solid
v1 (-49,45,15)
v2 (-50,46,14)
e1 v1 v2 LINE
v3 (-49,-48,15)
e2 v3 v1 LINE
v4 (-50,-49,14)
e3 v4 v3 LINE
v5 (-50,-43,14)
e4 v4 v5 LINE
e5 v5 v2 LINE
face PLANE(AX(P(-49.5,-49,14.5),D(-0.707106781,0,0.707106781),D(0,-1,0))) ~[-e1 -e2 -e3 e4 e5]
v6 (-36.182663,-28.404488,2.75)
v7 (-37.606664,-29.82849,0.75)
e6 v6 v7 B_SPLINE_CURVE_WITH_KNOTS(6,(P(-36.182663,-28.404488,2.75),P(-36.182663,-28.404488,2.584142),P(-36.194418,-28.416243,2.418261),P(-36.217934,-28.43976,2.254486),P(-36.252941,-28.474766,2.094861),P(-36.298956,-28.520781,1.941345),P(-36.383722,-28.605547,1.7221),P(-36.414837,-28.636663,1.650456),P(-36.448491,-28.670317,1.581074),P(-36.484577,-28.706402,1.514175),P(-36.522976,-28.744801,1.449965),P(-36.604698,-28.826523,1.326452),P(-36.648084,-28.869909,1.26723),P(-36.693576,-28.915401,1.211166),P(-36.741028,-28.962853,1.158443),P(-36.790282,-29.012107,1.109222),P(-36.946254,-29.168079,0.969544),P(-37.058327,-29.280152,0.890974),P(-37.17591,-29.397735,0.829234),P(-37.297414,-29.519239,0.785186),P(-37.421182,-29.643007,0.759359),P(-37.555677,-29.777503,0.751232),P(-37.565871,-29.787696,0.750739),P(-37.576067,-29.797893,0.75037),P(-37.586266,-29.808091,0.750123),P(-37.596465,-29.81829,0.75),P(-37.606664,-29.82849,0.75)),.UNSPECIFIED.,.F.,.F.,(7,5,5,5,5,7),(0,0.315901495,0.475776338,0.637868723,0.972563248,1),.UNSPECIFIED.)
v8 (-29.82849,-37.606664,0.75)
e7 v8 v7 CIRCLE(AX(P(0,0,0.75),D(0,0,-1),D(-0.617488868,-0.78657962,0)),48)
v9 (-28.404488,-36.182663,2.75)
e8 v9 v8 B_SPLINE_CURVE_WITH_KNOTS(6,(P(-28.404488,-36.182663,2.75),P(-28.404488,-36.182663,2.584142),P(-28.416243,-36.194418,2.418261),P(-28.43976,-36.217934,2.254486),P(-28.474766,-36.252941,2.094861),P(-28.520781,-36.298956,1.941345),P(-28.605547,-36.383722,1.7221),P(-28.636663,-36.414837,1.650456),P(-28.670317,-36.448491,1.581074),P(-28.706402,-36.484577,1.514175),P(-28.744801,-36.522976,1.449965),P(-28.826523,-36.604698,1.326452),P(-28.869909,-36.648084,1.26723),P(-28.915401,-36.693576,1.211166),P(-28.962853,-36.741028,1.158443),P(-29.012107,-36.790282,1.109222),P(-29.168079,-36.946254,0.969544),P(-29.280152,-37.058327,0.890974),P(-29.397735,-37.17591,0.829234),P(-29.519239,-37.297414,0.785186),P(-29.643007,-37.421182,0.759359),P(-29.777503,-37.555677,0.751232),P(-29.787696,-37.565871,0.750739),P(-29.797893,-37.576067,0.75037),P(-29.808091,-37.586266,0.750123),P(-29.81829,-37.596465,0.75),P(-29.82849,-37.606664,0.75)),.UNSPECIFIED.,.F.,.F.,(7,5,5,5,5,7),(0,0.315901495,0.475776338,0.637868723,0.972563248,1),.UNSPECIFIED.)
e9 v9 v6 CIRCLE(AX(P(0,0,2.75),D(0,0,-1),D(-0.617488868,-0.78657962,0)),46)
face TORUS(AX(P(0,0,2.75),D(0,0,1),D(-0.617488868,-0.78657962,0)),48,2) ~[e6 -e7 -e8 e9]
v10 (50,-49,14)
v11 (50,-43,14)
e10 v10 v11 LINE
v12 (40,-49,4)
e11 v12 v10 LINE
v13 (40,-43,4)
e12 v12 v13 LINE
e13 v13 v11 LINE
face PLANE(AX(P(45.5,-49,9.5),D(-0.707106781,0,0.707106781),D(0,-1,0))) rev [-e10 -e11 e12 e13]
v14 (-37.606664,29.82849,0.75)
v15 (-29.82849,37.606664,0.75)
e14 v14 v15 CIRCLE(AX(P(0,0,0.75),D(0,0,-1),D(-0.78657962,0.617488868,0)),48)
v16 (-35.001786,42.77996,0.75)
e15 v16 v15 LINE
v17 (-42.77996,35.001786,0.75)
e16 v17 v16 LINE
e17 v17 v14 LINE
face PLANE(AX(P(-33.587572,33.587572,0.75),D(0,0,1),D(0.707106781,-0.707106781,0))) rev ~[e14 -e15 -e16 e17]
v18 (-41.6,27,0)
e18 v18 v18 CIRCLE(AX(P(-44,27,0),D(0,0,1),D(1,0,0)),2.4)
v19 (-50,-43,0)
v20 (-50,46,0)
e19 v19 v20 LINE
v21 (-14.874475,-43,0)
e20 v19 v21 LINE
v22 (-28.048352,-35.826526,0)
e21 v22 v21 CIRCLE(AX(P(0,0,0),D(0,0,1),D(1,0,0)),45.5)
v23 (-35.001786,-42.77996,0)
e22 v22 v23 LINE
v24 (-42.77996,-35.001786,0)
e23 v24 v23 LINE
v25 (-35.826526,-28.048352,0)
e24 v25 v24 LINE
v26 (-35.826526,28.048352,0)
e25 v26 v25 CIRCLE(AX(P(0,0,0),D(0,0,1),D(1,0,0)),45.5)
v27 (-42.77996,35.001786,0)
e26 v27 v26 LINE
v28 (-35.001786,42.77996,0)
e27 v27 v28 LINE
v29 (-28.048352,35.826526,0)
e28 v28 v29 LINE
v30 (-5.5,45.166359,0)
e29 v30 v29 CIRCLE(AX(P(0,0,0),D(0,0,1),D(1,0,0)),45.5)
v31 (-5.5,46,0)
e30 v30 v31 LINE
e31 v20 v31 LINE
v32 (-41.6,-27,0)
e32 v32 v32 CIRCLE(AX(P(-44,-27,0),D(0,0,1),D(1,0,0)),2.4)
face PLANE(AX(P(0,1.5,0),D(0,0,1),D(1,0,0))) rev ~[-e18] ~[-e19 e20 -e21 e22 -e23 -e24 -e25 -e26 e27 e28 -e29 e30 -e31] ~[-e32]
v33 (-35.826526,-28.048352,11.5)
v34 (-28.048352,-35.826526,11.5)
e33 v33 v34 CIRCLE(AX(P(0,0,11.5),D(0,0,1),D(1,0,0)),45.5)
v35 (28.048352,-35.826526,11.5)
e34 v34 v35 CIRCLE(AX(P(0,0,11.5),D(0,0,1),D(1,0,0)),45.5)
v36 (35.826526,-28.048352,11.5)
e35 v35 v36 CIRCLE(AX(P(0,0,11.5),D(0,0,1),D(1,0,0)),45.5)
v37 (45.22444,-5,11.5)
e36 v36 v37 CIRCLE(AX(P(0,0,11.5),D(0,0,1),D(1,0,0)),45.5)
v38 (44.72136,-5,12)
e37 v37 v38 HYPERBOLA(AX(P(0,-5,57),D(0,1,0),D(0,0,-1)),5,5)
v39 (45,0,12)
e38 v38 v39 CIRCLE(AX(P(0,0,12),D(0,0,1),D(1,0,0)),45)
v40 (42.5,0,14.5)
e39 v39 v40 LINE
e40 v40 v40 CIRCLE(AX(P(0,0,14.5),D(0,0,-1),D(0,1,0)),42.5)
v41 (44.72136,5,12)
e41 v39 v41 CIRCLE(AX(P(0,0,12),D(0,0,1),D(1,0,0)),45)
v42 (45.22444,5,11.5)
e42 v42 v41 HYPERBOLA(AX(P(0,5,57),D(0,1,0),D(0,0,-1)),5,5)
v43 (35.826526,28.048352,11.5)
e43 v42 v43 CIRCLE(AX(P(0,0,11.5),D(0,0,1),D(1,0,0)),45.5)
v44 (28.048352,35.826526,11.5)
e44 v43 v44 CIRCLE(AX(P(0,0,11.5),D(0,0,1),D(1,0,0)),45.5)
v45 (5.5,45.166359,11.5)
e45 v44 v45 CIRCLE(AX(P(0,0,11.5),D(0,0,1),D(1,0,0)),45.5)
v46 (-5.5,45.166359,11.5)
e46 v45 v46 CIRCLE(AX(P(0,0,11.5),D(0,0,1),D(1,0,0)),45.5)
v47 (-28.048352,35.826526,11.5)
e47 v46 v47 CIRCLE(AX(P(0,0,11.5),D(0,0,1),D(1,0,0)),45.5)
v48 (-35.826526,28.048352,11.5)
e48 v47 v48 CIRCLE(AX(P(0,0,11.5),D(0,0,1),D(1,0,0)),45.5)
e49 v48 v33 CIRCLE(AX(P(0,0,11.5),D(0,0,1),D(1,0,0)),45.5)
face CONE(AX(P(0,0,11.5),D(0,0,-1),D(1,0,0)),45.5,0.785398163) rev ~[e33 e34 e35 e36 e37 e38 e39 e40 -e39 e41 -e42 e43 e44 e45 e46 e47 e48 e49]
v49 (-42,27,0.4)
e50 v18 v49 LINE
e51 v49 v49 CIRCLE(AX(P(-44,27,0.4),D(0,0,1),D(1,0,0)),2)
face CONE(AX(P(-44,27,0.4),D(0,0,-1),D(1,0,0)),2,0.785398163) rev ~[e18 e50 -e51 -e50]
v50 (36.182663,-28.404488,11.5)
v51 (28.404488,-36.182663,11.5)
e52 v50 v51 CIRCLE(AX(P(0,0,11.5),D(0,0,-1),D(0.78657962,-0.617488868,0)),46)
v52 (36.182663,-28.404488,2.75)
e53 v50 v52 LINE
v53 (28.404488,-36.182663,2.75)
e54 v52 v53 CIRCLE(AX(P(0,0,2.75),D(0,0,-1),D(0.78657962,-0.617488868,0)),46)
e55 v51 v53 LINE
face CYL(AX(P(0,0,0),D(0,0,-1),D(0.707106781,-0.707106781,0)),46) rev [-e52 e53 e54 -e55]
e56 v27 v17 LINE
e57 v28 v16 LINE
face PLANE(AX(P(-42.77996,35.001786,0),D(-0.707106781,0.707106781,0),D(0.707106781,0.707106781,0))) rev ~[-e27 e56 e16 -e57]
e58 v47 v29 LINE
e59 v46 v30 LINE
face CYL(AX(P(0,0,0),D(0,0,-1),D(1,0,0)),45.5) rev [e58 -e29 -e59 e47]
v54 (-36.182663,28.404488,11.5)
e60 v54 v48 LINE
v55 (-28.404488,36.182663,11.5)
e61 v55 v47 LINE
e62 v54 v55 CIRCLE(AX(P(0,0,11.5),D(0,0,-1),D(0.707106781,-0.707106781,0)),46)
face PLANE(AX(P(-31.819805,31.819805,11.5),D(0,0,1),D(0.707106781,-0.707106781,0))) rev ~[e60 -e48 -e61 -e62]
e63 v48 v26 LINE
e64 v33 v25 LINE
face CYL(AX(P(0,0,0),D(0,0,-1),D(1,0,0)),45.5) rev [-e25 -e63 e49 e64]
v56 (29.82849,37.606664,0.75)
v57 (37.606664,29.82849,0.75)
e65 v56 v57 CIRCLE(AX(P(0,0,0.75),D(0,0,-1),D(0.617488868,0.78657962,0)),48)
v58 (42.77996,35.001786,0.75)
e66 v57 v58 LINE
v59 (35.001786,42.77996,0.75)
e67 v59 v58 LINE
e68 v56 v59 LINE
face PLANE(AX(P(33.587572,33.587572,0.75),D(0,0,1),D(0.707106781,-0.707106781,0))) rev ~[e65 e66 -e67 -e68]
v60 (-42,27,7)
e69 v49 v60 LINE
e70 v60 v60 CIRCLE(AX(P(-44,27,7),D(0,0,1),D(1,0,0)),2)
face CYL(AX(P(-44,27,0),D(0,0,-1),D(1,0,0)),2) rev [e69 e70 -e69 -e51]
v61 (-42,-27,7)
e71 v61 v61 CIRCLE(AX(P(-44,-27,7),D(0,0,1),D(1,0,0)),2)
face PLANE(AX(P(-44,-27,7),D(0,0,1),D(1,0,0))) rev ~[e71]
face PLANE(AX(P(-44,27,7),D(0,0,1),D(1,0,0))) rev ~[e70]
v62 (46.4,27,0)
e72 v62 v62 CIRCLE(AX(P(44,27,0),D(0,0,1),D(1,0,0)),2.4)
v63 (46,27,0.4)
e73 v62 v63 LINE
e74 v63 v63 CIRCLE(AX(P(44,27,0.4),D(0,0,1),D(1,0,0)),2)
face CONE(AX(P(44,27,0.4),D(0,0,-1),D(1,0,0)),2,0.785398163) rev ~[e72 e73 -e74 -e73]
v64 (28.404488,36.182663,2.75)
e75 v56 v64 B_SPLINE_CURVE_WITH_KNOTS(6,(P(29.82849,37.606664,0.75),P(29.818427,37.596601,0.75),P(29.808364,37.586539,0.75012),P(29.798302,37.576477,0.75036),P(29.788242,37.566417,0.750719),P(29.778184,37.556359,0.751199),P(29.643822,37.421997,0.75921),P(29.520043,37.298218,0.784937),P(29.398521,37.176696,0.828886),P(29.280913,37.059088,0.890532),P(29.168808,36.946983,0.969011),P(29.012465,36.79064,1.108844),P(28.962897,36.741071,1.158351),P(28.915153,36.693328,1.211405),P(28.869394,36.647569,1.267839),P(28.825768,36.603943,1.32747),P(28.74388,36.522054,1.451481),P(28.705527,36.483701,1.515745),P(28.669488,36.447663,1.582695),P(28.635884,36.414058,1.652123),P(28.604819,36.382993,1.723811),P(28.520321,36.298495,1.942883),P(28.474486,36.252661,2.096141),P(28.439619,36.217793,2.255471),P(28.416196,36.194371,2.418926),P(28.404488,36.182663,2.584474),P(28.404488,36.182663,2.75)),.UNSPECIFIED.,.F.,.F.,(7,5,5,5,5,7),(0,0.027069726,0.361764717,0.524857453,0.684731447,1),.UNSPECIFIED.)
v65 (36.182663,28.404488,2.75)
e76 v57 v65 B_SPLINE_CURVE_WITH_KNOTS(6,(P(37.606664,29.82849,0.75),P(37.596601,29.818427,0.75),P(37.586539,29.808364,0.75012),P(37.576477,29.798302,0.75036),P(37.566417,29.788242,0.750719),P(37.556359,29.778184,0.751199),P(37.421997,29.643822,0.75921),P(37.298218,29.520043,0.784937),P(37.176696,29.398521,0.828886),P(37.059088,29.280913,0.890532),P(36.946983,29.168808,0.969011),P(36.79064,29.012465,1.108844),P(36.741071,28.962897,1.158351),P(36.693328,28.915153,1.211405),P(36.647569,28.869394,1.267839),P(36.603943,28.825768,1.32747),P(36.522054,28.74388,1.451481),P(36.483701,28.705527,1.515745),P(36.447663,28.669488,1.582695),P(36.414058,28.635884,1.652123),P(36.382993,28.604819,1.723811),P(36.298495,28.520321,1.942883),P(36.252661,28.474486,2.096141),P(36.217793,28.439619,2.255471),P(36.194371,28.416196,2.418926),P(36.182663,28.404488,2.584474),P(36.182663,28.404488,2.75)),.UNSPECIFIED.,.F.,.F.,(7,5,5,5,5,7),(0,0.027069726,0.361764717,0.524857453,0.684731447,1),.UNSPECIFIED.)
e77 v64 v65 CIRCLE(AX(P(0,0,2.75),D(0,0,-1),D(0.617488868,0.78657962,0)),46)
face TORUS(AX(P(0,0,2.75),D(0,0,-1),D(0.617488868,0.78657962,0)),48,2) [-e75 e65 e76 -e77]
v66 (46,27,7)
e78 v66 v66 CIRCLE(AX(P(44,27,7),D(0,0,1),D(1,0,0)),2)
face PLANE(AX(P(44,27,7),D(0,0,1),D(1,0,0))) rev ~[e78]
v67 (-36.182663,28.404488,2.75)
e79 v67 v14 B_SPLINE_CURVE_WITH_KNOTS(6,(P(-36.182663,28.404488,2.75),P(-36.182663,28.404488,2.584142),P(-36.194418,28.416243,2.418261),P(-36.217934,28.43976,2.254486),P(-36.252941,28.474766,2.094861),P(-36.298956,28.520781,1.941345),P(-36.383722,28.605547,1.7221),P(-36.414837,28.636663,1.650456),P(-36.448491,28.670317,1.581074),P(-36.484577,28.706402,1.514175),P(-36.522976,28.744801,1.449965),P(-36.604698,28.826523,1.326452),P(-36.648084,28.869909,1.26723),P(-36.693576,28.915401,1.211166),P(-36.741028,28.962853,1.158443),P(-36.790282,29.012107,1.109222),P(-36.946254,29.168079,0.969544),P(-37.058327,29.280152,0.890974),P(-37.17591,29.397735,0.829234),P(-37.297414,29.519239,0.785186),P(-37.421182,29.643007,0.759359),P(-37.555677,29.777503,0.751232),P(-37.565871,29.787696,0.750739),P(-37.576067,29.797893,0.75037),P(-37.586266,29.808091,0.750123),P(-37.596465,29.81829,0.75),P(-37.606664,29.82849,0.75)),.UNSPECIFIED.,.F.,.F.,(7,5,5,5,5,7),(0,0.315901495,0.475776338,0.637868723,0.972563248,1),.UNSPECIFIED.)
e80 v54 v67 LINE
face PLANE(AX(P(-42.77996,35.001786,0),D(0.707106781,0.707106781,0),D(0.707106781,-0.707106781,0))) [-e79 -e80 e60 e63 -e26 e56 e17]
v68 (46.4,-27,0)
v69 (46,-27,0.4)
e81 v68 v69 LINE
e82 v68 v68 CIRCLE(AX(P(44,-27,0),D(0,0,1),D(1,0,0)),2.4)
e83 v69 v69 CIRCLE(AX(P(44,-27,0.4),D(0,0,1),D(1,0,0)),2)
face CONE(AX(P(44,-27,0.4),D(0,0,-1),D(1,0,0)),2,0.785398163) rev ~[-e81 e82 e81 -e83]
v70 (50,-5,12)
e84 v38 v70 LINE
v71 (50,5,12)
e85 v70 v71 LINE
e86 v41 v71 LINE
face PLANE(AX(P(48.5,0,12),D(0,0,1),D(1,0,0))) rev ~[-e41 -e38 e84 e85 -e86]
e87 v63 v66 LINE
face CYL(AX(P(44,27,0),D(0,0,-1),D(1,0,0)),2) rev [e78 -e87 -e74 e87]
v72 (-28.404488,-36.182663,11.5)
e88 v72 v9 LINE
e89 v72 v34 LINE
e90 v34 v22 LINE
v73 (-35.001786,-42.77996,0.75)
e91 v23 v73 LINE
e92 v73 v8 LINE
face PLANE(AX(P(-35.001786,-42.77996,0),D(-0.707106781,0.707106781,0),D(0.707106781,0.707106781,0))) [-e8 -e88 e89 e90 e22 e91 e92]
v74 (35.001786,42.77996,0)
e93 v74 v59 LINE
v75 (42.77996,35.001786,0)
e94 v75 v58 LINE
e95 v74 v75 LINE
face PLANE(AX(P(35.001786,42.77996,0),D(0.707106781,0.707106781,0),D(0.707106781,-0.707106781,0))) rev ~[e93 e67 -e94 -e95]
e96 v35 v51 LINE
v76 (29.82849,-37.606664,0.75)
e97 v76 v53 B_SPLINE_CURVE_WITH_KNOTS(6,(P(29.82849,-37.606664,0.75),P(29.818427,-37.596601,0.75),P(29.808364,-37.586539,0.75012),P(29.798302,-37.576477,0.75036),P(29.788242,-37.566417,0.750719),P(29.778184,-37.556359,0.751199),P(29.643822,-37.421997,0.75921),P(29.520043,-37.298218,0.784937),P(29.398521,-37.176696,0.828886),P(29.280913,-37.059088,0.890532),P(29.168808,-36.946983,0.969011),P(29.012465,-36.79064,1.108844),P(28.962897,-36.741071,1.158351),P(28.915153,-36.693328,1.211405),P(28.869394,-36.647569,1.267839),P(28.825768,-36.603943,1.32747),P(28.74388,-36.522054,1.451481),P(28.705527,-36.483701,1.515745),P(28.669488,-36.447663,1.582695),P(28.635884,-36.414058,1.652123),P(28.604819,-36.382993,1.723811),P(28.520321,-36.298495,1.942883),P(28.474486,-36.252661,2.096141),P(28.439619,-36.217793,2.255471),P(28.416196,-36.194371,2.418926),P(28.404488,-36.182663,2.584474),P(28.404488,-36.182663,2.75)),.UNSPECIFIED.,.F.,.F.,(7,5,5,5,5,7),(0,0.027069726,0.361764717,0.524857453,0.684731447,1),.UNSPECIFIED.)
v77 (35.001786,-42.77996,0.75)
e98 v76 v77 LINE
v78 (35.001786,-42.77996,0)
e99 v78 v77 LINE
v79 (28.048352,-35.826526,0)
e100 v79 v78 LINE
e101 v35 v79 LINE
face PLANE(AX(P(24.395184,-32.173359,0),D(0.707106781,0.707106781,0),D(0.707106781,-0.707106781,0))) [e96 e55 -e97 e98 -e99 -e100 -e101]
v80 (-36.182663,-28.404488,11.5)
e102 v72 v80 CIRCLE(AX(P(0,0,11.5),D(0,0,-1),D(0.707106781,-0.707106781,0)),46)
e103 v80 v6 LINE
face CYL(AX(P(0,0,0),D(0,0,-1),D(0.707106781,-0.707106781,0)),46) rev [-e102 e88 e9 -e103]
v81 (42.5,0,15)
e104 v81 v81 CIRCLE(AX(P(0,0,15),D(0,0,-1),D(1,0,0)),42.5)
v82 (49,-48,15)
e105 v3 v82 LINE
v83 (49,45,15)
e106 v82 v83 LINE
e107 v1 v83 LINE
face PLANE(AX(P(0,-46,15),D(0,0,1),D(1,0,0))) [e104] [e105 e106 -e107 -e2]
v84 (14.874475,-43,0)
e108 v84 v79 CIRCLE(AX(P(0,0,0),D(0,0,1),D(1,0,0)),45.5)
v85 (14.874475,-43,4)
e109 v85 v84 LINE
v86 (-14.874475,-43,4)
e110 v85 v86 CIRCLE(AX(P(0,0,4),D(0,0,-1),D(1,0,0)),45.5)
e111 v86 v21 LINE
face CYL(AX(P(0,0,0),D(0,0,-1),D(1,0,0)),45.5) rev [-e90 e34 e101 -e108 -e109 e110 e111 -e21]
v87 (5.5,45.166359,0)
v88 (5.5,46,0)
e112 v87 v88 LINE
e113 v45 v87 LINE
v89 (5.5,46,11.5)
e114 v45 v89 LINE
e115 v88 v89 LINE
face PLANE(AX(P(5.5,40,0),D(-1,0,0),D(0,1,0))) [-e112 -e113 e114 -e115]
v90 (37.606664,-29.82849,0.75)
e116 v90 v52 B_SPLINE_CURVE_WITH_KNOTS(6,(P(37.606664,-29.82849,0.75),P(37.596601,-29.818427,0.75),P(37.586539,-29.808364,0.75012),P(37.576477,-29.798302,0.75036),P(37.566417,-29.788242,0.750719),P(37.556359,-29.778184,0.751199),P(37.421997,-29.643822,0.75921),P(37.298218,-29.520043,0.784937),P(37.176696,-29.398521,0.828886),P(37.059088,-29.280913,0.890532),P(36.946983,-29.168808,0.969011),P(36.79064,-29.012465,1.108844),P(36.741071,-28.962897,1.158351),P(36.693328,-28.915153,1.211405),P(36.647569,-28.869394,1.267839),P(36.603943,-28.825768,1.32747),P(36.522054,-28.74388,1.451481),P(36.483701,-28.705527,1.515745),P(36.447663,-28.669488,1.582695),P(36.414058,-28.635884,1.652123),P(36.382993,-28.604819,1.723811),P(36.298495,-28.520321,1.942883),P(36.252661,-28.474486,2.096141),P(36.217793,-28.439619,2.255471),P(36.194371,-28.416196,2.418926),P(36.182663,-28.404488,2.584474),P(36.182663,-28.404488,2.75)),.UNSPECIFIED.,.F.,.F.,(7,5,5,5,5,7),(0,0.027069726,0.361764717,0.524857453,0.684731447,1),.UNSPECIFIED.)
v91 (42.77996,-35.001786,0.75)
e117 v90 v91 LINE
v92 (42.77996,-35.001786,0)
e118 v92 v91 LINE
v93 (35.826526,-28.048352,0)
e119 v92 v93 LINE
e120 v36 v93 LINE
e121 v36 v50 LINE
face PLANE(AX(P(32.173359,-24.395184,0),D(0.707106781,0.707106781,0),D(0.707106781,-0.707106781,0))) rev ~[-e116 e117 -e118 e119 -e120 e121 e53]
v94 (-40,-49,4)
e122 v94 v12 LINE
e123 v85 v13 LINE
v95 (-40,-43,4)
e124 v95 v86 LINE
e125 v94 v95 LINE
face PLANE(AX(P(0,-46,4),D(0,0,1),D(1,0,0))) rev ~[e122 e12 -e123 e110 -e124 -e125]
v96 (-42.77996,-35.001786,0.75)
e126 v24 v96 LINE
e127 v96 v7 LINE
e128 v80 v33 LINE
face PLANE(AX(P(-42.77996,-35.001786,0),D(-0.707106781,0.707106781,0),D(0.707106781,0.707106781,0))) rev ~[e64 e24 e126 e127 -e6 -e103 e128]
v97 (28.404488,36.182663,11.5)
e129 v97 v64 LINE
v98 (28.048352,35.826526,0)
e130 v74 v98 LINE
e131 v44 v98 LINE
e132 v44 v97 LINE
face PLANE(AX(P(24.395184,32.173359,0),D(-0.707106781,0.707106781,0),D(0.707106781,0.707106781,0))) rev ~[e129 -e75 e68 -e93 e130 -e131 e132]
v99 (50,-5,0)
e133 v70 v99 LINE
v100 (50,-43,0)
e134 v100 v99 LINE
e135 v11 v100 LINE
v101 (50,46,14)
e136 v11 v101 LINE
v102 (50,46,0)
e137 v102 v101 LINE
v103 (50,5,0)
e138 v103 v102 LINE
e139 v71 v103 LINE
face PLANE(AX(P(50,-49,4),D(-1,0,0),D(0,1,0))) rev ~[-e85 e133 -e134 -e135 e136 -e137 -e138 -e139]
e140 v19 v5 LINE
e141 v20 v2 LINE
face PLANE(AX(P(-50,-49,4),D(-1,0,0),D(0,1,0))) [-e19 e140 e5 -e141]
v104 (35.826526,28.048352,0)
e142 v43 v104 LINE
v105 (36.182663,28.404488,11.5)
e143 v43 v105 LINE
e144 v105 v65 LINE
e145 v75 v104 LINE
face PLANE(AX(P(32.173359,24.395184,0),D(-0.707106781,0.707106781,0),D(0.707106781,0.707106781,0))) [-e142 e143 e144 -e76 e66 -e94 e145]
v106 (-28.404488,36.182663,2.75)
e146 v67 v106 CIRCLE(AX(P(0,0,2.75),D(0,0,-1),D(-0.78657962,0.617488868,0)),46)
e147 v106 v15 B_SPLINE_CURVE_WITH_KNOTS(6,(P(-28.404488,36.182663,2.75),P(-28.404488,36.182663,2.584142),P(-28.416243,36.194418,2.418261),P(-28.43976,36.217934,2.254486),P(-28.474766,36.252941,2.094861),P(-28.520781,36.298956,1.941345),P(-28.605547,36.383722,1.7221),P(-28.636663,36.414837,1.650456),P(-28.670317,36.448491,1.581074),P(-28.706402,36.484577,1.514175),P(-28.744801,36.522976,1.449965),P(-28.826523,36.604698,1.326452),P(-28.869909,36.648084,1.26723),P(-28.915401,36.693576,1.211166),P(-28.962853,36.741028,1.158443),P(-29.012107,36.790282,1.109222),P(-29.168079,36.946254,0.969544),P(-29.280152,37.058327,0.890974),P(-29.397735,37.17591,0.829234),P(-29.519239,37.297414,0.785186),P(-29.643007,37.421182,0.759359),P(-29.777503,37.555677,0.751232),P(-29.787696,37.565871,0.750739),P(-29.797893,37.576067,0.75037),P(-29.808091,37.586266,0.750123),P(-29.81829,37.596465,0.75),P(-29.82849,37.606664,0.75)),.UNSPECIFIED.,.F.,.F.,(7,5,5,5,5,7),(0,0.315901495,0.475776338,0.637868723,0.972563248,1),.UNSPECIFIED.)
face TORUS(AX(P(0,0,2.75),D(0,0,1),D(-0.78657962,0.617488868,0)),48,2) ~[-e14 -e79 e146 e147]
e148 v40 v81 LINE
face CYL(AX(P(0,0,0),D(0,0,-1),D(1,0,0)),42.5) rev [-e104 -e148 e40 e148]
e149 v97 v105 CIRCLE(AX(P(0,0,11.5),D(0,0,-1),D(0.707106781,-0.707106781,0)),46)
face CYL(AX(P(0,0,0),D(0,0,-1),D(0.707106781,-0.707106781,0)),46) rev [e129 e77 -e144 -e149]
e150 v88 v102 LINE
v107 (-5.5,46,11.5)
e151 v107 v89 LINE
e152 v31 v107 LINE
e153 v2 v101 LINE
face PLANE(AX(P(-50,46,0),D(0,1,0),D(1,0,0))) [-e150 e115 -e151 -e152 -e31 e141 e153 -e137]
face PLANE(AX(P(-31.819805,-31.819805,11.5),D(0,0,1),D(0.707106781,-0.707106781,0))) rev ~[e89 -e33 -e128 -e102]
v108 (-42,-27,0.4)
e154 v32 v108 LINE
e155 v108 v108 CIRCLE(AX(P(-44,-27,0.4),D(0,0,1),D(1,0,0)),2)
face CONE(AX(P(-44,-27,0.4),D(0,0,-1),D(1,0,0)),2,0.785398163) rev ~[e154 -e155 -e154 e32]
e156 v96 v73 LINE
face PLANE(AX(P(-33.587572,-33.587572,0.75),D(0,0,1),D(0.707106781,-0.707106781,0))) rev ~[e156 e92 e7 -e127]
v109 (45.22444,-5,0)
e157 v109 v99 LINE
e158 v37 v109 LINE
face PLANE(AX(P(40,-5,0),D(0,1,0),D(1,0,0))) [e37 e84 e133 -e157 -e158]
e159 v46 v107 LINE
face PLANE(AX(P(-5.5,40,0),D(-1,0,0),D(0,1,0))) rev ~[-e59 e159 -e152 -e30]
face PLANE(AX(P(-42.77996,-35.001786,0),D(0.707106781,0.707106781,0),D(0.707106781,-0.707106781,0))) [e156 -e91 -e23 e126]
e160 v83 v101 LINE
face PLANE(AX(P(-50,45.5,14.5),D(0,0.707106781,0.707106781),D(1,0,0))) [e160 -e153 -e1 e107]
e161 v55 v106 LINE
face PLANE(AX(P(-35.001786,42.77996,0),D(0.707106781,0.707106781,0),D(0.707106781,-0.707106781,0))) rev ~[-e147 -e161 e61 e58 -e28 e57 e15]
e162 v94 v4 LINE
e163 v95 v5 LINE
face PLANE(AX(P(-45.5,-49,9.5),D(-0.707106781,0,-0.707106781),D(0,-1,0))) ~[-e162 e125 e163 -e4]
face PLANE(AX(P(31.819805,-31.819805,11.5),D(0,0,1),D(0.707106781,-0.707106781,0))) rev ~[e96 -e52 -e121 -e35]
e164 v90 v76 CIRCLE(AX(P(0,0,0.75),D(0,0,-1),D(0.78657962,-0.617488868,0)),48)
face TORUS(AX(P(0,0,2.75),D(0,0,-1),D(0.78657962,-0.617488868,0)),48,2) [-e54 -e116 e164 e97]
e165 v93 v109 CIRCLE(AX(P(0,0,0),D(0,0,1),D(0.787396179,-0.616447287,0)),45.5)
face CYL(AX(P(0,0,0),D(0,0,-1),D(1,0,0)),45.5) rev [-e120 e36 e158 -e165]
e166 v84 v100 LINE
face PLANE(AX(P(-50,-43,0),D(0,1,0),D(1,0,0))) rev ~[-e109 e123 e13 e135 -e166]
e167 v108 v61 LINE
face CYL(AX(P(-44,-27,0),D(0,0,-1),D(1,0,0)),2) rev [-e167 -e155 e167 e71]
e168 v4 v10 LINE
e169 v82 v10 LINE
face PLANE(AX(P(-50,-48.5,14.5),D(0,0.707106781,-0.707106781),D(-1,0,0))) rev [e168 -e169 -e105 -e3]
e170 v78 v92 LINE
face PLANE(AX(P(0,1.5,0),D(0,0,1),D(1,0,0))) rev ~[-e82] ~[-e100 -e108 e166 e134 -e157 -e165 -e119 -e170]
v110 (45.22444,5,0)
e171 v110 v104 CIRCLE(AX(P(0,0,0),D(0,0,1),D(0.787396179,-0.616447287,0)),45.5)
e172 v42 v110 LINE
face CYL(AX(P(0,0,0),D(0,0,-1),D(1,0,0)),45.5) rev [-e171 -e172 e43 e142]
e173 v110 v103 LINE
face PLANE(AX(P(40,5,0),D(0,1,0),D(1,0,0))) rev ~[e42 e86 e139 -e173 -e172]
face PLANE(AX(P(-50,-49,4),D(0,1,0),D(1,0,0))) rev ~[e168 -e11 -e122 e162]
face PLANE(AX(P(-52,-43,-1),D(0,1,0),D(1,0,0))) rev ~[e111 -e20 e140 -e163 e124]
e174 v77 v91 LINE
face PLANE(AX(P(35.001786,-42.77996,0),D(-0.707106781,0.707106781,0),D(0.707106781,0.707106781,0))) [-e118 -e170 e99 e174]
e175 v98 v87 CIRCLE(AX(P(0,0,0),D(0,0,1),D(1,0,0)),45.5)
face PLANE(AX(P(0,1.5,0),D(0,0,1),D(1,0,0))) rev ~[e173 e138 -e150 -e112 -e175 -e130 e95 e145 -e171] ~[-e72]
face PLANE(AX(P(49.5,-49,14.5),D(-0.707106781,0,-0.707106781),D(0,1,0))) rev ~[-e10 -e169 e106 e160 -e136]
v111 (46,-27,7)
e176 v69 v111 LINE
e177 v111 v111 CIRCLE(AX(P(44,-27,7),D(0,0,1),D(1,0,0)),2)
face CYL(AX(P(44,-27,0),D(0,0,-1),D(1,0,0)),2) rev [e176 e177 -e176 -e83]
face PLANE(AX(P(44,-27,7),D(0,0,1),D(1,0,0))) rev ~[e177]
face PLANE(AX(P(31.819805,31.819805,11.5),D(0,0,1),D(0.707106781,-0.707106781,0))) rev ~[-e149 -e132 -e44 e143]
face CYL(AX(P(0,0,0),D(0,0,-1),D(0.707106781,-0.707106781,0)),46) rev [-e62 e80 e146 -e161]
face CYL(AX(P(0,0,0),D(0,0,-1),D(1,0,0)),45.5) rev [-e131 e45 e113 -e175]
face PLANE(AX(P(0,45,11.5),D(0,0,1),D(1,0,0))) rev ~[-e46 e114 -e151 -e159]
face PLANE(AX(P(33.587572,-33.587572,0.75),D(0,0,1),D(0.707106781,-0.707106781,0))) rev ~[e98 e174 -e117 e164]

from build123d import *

# Parameters (mm, degrees)
CYLINDER011_R                = 2
CYLINDER011_DEPTH            = 7
CYLINDER010_R                = 2
CYLINDER010_DEPTH            = 7
CYLINDER009_R                = 2
CYLINDER009_DEPTH            = 7
CYLINDER012_R                = 2
CYLINDER012_DEPTH            = 7
BOX021_W                     = 12
BOX021_H                     = 6
BOX021_DEPTH                 = 16
CHAMFER005_SIZE              = 11
BOX020_W                     = 12
BOX020_H                     = 6
BOX020_DEPTH                 = 16
CHAMFER004_SIZE              = 11
BOX018_W                     = 17
BOX018_H                     = 10
BOX018_DEPTH                 = 12
BOX017_W                     = 11
BOX017_H                     = 10
BOX017_DEPTH                 = 11.5
BOX004_W                     = 10
BOX004_H                     = 11
BOX004_DEPTH                 = 11.5
BOX005_W                     = 10
BOX005_H                     = 11
BOX005_DEPTH                 = 11.5
BOX006_W                     = 11
BOX006_H                     = 10
BOX006_DEPTH                 = 11.5
BOX007_W                     = 11
BOX007_H                     = 10
BOX007_DEPTH                 = 11.5
CYLINDER004_R                = 46
CYLINDER004_DEPTH            = 15
COMMON_PLACEMENT_ANGLE       = 45
CYLINDER_R                   = 45.5
CYLINDER_DEPTH               = 15
CHAMFER_SIZE                 = 3.5
CYLINDER002_R                = 42.5
CYLINDER002_DEPTH            = 21
BOX_W                        = 11
BOX_H                        = 15
BOX_DEPTH                    = 0.75
BOX001_W                     = 11
BOX001_H                     = 15
BOX001_DEPTH                 = 0.75
BOX002_W                     = 15
BOX002_H                     = 11
BOX002_DEPTH                 = 0.75
BOX003_W                     = 15
BOX003_H                     = 11
BOX003_DEPTH                 = 0.75
FUSION002003_PLACEMENT_ANGLE = 45
FILLET_R                     = 2
BOX016_W                     = 100
BOX016_H                     = 6
BOX016_DEPTH                 = 11
BOX015_W                     = 100
BOX015_H                     = 89
BOX015_DEPTH                 = 15
CHAMFER006_SIZE              = 1
CHAMFER019_SIZE              = 0.4


with BuildPart() as cylinder011:
    # Cylinder011 → Cylinder011 (new body)
    with BuildSketch(Plane(origin=(-44, 27, 0), x_dir=(1, 0, 0), z_dir=(0, 0, 1))):
        Circle(CYLINDER011_R)
    extrude(amount=CYLINDER011_DEPTH)


with BuildPart() as cylinder010:
    # Cylinder010 → Cylinder010 (new body)
    with BuildSketch(Plane(origin=(-44, -27, 0), x_dir=(1, 0, 0), z_dir=(0, 0, 1))):
        Circle(CYLINDER010_R)
    extrude(amount=CYLINDER010_DEPTH)


with BuildPart() as cylinder009:
    # Cylinder009 → Cylinder009 (new body)
    with BuildSketch(Plane(origin=(44, -27, 0), x_dir=(1, 0, 0), z_dir=(0, 0, 1))):
        Circle(CYLINDER009_R)
    extrude(amount=CYLINDER009_DEPTH)


with BuildPart() as fusion002003010:
    # Cylinder012 → Cylinder012 (new body)
    with BuildSketch(Plane(origin=(44, 27, 0), x_dir=(1, 0, 0), z_dir=(0, 0, 1))):
        Circle(CYLINDER012_R)
    extrude(amount=CYLINDER012_DEPTH)

    # Fusion002003010: union Cylinder011, Cylinder010, Cylinder009
    add(cylinder011.part)
    add(cylinder010.part)
    add(cylinder009.part)


with BuildPart() as chamfer005:
    # Box021 → Box021 (new body)
    with BuildSketch(Plane(origin=(39, -49, -1), x_dir=(1, 0, 0), z_dir=(0, 0, 1))):
        with Locations((6, 3)):
            Rectangle(BOX021_W, BOX021_H)
    extrude(amount=BOX021_DEPTH)

    # Chamfer005
    chamfer005_edges = [chamfer005.edges().sort_by_distance(p)[0] for p in [
        (39, -46, 15),
    ]]
    chamfer(chamfer005_edges, length=CHAMFER005_SIZE)


with BuildPart() as chamfer005_1:
    # Chamfer005 placement: moved
    add(chamfer005.part.moved(Location((1, 0, 0))))


with BuildPart() as fusion002003006:
    # Box020 → Box020 (new body)
    with BuildSketch(Plane(origin=(-51, -49, -1), x_dir=(1, 0, 0), z_dir=(0, 0, 1))):
        with Locations((6, 3)):
            Rectangle(BOX020_W, BOX020_H)
    extrude(amount=BOX020_DEPTH)

    # Chamfer004
    chamfer004_edges = [fusion002003006.edges().sort_by_distance(p)[0] for p in [
        (-39, -46, 15),
    ]]
    chamfer(chamfer004_edges, length=CHAMFER004_SIZE)


with BuildPart() as fusion002003006_1:
    # Chamfer004 placement: moved
    add(fusion002003006.part.moved(Location((-1, 0, 0))))

    # Fusion002003006: union Chamfer005
    add(chamfer005_1.part)


with BuildPart() as cube018:
    # Box018 → Box018 (new body)
    with BuildSketch(Plane(origin=(40, -5, 0), x_dir=(1, 0, 0), z_dir=(0, 0, 1))):
        with Locations((8.5, 5)):
            Rectangle(BOX018_W, BOX018_H)
    extrude(amount=BOX018_DEPTH)


with BuildPart() as fusion002003005:
    # Box017 → Box017 (new body)
    with BuildSketch(Plane(origin=(-5.5, 40, 0), x_dir=(1, 0, 0), z_dir=(0, 0, 1))):
        with Locations((5.5, 5)):
            Rectangle(BOX017_W, BOX017_H)
    extrude(amount=BOX017_DEPTH)

    # Fusion002003005: union Cube018
    add(cube018.part)


with BuildPart() as cube004:
    # Box004 → Box004 (new body)
    with BuildSketch(Plane(origin=(-50, -5.5, 0), x_dir=(1, 0, 0), z_dir=(0, 0, 1))):
        with Locations((5, 5.5)):
            Rectangle(BOX004_W, BOX004_H)
    extrude(amount=BOX004_DEPTH)


with BuildPart() as cube005:
    # Box005 → Box005 (new body)
    with BuildSketch(Plane(origin=(40, -5.5, 0), x_dir=(1, 0, 0), z_dir=(0, 0, 1))):
        with Locations((5, 5.5)):
            Rectangle(BOX005_W, BOX005_H)
    extrude(amount=BOX005_DEPTH)


with BuildPart() as cube006:
    # Box006 → Box006 (new body)
    with BuildSketch(Plane(origin=(-5.5, -50, 0), x_dir=(1, 0, 0), z_dir=(0, 0, 1))):
        with Locations((5.5, 5)):
            Rectangle(BOX006_W, BOX006_H)
    extrude(amount=BOX006_DEPTH)


with BuildPart() as fusion002004:
    # Box007 → Box007 (new body)
    with BuildSketch(Plane(origin=(-5.5, 40, 0), x_dir=(1, 0, 0), z_dir=(0, 0, 1))):
        with Locations((5.5, 5)):
            Rectangle(BOX007_W, BOX007_H)
    extrude(amount=BOX007_DEPTH)

    # Fusion002004: union Cube004, Cube005, Cube006
    add(cube004.part)
    add(cube005.part)
    add(cube006.part)


with BuildPart() as common:
    # Cylinder004 → Cylinder004 (new body)
    with BuildSketch(Plane.XY):
        Circle(CYLINDER004_R)
    extrude(amount=CYLINDER004_DEPTH)

    # Common: intersect Fusion002004
    add(fusion002004.part, mode=Mode.INTERSECT)


with BuildPart() as common_1:
    # Common placement: moved
    add(common.part.rotate(Axis((0, 0, 0), (0, 0, -1)), COMMON_PLACEMENT_ANGLE))


with BuildPart() as chamfer_body:
    # Cylinder → Cylinder (new body)
    with BuildSketch(Plane.XY):
        Circle(CYLINDER_R)
    extrude(amount=CYLINDER_DEPTH)

    # Chamfer
    chamfer_edges = [chamfer_body.edges().sort_by_distance(p)[0] for p in [
        (-45.5, 0, 15),
    ]]
    chamfer(chamfer_edges, length=CHAMFER_SIZE)


with BuildPart() as cylinder002:
    # Cylinder002 → Cylinder002 (new body)
    with BuildSketch(Plane.XY):
        Circle(CYLINDER002_R)
    extrude(amount=CYLINDER002_DEPTH)


with BuildPart() as cube:
    # Box → Box (new body)
    with BuildSketch(Plane(origin=(-5.5, 40, 0), x_dir=(1, 0, 0), z_dir=(0, 0, 1))):
        with Locations((5.5, 7.5)):
            Rectangle(BOX_W, BOX_H)
    extrude(amount=BOX_DEPTH)


with BuildPart() as cube001:
    # Box001 → Box001 (new body)
    with BuildSketch(Plane(origin=(-5.5, -55, 0), x_dir=(1, 0, 0), z_dir=(0, 0, 1))):
        with Locations((5.5, 7.5)):
            Rectangle(BOX001_W, BOX001_H)
    extrude(amount=BOX001_DEPTH)


with BuildPart() as cube002:
    # Box002 → Box002 (new body)
    with BuildSketch(Plane(origin=(40, -5.5, 0), x_dir=(1, 0, 0), z_dir=(0, 0, 1))):
        with Locations((7.5, 5.5)):
            Rectangle(BOX002_W, BOX002_H)
    extrude(amount=BOX002_DEPTH)


with BuildPart() as fillet_body:
    # Box003 → Box003 (new body)
    with BuildSketch(Plane(origin=(-55, -5.5, 0), x_dir=(1, 0, 0), z_dir=(0, 0, 1))):
        with Locations((7.5, 5.5)):
            Rectangle(BOX003_W, BOX003_H)
    extrude(amount=BOX003_DEPTH)

    # Fusion002003: union Cube, Cube001, Cube002
    add(cube.part)
    add(cube001.part)
    add(cube002.part)


with BuildPart() as fillet_body_1:
    # Fusion002003 placement: moved
    add(fillet_body.part.rotate(Axis((0, 0, 0), (0, 0, -1)), FUSION002003_PLACEMENT_ANGLE))

    # Fusion: union Common, Chamfer body, Cylinder002
    add(common_1.part)
    add(chamfer_body.part)
    add(cylinder002.part)

    # Fillet
    fillet_edges = [fillet_body_1.edges().sort_by_distance(p)[0] for p in [
        (34.416566, -30.520485, 0.75),
        (30.520485, -34.416566, 0.75),
        (-32.526912, -32.526912, 0.75),
        (-32.526912, 32.526912, 0.75),
        (32.526912, 32.526912, 0.75),
    ]]
    fillet(fillet_edges, radius=FILLET_R)


with BuildPart() as cube016:
    # Box016 → Box016 (new body)
    with BuildSketch(Plane(origin=(-50, -49, 4), x_dir=(1, 0, 0), z_dir=(0, 0, 1))):
        with Locations((50, 3)):
            Rectangle(BOX016_W, BOX016_H)
    extrude(amount=BOX016_DEPTH)


with BuildPart() as center:
    # Box015 → Box015 (new body)
    with BuildSketch(Plane(origin=(-50, -43, 0), x_dir=(1, 0, 0), z_dir=(0, 0, 1))):
        with Locations((50, 44.5)):
            Rectangle(BOX015_W, BOX015_H)
    extrude(amount=BOX015_DEPTH)

    # Fusion002003004: union Cube016
    add(cube016.part)

    # Cut: cut Fillet body
    add(fillet_body_1.part, mode=Mode.SUBTRACT)

    # Cut001: cut Fusion002003005
    add(fusion002003005.part, mode=Mode.SUBTRACT)

    # Chamfer006
    chamfer006_edges = [center.edges().sort_by_distance(p)[0] for p in [
        (0, 46, 15),
        (50, -1.5, 15),
        (-50, -1.5, 15),
        (0, -49, 15),
    ]]
    chamfer(chamfer006_edges, length=CHAMFER006_SIZE)

    # Cut002: cut Fusion002003006
    add(fusion002003006_1.part, mode=Mode.SUBTRACT)

    # Cut005: cut Fusion002003010
    add(fusion002003010.part, mode=Mode.SUBTRACT)

    # Chamfer019
    chamfer019_edges = [center.edges().sort_by_distance(p)[0] for p in [
        (42, 27, 0),
        (-46, -27, 0),
        (-46, 27, 0),
        (42, -27, 0),
    ]]
    chamfer(chamfer019_edges, length=CHAMFER019_SIZE)


solid = center.part
